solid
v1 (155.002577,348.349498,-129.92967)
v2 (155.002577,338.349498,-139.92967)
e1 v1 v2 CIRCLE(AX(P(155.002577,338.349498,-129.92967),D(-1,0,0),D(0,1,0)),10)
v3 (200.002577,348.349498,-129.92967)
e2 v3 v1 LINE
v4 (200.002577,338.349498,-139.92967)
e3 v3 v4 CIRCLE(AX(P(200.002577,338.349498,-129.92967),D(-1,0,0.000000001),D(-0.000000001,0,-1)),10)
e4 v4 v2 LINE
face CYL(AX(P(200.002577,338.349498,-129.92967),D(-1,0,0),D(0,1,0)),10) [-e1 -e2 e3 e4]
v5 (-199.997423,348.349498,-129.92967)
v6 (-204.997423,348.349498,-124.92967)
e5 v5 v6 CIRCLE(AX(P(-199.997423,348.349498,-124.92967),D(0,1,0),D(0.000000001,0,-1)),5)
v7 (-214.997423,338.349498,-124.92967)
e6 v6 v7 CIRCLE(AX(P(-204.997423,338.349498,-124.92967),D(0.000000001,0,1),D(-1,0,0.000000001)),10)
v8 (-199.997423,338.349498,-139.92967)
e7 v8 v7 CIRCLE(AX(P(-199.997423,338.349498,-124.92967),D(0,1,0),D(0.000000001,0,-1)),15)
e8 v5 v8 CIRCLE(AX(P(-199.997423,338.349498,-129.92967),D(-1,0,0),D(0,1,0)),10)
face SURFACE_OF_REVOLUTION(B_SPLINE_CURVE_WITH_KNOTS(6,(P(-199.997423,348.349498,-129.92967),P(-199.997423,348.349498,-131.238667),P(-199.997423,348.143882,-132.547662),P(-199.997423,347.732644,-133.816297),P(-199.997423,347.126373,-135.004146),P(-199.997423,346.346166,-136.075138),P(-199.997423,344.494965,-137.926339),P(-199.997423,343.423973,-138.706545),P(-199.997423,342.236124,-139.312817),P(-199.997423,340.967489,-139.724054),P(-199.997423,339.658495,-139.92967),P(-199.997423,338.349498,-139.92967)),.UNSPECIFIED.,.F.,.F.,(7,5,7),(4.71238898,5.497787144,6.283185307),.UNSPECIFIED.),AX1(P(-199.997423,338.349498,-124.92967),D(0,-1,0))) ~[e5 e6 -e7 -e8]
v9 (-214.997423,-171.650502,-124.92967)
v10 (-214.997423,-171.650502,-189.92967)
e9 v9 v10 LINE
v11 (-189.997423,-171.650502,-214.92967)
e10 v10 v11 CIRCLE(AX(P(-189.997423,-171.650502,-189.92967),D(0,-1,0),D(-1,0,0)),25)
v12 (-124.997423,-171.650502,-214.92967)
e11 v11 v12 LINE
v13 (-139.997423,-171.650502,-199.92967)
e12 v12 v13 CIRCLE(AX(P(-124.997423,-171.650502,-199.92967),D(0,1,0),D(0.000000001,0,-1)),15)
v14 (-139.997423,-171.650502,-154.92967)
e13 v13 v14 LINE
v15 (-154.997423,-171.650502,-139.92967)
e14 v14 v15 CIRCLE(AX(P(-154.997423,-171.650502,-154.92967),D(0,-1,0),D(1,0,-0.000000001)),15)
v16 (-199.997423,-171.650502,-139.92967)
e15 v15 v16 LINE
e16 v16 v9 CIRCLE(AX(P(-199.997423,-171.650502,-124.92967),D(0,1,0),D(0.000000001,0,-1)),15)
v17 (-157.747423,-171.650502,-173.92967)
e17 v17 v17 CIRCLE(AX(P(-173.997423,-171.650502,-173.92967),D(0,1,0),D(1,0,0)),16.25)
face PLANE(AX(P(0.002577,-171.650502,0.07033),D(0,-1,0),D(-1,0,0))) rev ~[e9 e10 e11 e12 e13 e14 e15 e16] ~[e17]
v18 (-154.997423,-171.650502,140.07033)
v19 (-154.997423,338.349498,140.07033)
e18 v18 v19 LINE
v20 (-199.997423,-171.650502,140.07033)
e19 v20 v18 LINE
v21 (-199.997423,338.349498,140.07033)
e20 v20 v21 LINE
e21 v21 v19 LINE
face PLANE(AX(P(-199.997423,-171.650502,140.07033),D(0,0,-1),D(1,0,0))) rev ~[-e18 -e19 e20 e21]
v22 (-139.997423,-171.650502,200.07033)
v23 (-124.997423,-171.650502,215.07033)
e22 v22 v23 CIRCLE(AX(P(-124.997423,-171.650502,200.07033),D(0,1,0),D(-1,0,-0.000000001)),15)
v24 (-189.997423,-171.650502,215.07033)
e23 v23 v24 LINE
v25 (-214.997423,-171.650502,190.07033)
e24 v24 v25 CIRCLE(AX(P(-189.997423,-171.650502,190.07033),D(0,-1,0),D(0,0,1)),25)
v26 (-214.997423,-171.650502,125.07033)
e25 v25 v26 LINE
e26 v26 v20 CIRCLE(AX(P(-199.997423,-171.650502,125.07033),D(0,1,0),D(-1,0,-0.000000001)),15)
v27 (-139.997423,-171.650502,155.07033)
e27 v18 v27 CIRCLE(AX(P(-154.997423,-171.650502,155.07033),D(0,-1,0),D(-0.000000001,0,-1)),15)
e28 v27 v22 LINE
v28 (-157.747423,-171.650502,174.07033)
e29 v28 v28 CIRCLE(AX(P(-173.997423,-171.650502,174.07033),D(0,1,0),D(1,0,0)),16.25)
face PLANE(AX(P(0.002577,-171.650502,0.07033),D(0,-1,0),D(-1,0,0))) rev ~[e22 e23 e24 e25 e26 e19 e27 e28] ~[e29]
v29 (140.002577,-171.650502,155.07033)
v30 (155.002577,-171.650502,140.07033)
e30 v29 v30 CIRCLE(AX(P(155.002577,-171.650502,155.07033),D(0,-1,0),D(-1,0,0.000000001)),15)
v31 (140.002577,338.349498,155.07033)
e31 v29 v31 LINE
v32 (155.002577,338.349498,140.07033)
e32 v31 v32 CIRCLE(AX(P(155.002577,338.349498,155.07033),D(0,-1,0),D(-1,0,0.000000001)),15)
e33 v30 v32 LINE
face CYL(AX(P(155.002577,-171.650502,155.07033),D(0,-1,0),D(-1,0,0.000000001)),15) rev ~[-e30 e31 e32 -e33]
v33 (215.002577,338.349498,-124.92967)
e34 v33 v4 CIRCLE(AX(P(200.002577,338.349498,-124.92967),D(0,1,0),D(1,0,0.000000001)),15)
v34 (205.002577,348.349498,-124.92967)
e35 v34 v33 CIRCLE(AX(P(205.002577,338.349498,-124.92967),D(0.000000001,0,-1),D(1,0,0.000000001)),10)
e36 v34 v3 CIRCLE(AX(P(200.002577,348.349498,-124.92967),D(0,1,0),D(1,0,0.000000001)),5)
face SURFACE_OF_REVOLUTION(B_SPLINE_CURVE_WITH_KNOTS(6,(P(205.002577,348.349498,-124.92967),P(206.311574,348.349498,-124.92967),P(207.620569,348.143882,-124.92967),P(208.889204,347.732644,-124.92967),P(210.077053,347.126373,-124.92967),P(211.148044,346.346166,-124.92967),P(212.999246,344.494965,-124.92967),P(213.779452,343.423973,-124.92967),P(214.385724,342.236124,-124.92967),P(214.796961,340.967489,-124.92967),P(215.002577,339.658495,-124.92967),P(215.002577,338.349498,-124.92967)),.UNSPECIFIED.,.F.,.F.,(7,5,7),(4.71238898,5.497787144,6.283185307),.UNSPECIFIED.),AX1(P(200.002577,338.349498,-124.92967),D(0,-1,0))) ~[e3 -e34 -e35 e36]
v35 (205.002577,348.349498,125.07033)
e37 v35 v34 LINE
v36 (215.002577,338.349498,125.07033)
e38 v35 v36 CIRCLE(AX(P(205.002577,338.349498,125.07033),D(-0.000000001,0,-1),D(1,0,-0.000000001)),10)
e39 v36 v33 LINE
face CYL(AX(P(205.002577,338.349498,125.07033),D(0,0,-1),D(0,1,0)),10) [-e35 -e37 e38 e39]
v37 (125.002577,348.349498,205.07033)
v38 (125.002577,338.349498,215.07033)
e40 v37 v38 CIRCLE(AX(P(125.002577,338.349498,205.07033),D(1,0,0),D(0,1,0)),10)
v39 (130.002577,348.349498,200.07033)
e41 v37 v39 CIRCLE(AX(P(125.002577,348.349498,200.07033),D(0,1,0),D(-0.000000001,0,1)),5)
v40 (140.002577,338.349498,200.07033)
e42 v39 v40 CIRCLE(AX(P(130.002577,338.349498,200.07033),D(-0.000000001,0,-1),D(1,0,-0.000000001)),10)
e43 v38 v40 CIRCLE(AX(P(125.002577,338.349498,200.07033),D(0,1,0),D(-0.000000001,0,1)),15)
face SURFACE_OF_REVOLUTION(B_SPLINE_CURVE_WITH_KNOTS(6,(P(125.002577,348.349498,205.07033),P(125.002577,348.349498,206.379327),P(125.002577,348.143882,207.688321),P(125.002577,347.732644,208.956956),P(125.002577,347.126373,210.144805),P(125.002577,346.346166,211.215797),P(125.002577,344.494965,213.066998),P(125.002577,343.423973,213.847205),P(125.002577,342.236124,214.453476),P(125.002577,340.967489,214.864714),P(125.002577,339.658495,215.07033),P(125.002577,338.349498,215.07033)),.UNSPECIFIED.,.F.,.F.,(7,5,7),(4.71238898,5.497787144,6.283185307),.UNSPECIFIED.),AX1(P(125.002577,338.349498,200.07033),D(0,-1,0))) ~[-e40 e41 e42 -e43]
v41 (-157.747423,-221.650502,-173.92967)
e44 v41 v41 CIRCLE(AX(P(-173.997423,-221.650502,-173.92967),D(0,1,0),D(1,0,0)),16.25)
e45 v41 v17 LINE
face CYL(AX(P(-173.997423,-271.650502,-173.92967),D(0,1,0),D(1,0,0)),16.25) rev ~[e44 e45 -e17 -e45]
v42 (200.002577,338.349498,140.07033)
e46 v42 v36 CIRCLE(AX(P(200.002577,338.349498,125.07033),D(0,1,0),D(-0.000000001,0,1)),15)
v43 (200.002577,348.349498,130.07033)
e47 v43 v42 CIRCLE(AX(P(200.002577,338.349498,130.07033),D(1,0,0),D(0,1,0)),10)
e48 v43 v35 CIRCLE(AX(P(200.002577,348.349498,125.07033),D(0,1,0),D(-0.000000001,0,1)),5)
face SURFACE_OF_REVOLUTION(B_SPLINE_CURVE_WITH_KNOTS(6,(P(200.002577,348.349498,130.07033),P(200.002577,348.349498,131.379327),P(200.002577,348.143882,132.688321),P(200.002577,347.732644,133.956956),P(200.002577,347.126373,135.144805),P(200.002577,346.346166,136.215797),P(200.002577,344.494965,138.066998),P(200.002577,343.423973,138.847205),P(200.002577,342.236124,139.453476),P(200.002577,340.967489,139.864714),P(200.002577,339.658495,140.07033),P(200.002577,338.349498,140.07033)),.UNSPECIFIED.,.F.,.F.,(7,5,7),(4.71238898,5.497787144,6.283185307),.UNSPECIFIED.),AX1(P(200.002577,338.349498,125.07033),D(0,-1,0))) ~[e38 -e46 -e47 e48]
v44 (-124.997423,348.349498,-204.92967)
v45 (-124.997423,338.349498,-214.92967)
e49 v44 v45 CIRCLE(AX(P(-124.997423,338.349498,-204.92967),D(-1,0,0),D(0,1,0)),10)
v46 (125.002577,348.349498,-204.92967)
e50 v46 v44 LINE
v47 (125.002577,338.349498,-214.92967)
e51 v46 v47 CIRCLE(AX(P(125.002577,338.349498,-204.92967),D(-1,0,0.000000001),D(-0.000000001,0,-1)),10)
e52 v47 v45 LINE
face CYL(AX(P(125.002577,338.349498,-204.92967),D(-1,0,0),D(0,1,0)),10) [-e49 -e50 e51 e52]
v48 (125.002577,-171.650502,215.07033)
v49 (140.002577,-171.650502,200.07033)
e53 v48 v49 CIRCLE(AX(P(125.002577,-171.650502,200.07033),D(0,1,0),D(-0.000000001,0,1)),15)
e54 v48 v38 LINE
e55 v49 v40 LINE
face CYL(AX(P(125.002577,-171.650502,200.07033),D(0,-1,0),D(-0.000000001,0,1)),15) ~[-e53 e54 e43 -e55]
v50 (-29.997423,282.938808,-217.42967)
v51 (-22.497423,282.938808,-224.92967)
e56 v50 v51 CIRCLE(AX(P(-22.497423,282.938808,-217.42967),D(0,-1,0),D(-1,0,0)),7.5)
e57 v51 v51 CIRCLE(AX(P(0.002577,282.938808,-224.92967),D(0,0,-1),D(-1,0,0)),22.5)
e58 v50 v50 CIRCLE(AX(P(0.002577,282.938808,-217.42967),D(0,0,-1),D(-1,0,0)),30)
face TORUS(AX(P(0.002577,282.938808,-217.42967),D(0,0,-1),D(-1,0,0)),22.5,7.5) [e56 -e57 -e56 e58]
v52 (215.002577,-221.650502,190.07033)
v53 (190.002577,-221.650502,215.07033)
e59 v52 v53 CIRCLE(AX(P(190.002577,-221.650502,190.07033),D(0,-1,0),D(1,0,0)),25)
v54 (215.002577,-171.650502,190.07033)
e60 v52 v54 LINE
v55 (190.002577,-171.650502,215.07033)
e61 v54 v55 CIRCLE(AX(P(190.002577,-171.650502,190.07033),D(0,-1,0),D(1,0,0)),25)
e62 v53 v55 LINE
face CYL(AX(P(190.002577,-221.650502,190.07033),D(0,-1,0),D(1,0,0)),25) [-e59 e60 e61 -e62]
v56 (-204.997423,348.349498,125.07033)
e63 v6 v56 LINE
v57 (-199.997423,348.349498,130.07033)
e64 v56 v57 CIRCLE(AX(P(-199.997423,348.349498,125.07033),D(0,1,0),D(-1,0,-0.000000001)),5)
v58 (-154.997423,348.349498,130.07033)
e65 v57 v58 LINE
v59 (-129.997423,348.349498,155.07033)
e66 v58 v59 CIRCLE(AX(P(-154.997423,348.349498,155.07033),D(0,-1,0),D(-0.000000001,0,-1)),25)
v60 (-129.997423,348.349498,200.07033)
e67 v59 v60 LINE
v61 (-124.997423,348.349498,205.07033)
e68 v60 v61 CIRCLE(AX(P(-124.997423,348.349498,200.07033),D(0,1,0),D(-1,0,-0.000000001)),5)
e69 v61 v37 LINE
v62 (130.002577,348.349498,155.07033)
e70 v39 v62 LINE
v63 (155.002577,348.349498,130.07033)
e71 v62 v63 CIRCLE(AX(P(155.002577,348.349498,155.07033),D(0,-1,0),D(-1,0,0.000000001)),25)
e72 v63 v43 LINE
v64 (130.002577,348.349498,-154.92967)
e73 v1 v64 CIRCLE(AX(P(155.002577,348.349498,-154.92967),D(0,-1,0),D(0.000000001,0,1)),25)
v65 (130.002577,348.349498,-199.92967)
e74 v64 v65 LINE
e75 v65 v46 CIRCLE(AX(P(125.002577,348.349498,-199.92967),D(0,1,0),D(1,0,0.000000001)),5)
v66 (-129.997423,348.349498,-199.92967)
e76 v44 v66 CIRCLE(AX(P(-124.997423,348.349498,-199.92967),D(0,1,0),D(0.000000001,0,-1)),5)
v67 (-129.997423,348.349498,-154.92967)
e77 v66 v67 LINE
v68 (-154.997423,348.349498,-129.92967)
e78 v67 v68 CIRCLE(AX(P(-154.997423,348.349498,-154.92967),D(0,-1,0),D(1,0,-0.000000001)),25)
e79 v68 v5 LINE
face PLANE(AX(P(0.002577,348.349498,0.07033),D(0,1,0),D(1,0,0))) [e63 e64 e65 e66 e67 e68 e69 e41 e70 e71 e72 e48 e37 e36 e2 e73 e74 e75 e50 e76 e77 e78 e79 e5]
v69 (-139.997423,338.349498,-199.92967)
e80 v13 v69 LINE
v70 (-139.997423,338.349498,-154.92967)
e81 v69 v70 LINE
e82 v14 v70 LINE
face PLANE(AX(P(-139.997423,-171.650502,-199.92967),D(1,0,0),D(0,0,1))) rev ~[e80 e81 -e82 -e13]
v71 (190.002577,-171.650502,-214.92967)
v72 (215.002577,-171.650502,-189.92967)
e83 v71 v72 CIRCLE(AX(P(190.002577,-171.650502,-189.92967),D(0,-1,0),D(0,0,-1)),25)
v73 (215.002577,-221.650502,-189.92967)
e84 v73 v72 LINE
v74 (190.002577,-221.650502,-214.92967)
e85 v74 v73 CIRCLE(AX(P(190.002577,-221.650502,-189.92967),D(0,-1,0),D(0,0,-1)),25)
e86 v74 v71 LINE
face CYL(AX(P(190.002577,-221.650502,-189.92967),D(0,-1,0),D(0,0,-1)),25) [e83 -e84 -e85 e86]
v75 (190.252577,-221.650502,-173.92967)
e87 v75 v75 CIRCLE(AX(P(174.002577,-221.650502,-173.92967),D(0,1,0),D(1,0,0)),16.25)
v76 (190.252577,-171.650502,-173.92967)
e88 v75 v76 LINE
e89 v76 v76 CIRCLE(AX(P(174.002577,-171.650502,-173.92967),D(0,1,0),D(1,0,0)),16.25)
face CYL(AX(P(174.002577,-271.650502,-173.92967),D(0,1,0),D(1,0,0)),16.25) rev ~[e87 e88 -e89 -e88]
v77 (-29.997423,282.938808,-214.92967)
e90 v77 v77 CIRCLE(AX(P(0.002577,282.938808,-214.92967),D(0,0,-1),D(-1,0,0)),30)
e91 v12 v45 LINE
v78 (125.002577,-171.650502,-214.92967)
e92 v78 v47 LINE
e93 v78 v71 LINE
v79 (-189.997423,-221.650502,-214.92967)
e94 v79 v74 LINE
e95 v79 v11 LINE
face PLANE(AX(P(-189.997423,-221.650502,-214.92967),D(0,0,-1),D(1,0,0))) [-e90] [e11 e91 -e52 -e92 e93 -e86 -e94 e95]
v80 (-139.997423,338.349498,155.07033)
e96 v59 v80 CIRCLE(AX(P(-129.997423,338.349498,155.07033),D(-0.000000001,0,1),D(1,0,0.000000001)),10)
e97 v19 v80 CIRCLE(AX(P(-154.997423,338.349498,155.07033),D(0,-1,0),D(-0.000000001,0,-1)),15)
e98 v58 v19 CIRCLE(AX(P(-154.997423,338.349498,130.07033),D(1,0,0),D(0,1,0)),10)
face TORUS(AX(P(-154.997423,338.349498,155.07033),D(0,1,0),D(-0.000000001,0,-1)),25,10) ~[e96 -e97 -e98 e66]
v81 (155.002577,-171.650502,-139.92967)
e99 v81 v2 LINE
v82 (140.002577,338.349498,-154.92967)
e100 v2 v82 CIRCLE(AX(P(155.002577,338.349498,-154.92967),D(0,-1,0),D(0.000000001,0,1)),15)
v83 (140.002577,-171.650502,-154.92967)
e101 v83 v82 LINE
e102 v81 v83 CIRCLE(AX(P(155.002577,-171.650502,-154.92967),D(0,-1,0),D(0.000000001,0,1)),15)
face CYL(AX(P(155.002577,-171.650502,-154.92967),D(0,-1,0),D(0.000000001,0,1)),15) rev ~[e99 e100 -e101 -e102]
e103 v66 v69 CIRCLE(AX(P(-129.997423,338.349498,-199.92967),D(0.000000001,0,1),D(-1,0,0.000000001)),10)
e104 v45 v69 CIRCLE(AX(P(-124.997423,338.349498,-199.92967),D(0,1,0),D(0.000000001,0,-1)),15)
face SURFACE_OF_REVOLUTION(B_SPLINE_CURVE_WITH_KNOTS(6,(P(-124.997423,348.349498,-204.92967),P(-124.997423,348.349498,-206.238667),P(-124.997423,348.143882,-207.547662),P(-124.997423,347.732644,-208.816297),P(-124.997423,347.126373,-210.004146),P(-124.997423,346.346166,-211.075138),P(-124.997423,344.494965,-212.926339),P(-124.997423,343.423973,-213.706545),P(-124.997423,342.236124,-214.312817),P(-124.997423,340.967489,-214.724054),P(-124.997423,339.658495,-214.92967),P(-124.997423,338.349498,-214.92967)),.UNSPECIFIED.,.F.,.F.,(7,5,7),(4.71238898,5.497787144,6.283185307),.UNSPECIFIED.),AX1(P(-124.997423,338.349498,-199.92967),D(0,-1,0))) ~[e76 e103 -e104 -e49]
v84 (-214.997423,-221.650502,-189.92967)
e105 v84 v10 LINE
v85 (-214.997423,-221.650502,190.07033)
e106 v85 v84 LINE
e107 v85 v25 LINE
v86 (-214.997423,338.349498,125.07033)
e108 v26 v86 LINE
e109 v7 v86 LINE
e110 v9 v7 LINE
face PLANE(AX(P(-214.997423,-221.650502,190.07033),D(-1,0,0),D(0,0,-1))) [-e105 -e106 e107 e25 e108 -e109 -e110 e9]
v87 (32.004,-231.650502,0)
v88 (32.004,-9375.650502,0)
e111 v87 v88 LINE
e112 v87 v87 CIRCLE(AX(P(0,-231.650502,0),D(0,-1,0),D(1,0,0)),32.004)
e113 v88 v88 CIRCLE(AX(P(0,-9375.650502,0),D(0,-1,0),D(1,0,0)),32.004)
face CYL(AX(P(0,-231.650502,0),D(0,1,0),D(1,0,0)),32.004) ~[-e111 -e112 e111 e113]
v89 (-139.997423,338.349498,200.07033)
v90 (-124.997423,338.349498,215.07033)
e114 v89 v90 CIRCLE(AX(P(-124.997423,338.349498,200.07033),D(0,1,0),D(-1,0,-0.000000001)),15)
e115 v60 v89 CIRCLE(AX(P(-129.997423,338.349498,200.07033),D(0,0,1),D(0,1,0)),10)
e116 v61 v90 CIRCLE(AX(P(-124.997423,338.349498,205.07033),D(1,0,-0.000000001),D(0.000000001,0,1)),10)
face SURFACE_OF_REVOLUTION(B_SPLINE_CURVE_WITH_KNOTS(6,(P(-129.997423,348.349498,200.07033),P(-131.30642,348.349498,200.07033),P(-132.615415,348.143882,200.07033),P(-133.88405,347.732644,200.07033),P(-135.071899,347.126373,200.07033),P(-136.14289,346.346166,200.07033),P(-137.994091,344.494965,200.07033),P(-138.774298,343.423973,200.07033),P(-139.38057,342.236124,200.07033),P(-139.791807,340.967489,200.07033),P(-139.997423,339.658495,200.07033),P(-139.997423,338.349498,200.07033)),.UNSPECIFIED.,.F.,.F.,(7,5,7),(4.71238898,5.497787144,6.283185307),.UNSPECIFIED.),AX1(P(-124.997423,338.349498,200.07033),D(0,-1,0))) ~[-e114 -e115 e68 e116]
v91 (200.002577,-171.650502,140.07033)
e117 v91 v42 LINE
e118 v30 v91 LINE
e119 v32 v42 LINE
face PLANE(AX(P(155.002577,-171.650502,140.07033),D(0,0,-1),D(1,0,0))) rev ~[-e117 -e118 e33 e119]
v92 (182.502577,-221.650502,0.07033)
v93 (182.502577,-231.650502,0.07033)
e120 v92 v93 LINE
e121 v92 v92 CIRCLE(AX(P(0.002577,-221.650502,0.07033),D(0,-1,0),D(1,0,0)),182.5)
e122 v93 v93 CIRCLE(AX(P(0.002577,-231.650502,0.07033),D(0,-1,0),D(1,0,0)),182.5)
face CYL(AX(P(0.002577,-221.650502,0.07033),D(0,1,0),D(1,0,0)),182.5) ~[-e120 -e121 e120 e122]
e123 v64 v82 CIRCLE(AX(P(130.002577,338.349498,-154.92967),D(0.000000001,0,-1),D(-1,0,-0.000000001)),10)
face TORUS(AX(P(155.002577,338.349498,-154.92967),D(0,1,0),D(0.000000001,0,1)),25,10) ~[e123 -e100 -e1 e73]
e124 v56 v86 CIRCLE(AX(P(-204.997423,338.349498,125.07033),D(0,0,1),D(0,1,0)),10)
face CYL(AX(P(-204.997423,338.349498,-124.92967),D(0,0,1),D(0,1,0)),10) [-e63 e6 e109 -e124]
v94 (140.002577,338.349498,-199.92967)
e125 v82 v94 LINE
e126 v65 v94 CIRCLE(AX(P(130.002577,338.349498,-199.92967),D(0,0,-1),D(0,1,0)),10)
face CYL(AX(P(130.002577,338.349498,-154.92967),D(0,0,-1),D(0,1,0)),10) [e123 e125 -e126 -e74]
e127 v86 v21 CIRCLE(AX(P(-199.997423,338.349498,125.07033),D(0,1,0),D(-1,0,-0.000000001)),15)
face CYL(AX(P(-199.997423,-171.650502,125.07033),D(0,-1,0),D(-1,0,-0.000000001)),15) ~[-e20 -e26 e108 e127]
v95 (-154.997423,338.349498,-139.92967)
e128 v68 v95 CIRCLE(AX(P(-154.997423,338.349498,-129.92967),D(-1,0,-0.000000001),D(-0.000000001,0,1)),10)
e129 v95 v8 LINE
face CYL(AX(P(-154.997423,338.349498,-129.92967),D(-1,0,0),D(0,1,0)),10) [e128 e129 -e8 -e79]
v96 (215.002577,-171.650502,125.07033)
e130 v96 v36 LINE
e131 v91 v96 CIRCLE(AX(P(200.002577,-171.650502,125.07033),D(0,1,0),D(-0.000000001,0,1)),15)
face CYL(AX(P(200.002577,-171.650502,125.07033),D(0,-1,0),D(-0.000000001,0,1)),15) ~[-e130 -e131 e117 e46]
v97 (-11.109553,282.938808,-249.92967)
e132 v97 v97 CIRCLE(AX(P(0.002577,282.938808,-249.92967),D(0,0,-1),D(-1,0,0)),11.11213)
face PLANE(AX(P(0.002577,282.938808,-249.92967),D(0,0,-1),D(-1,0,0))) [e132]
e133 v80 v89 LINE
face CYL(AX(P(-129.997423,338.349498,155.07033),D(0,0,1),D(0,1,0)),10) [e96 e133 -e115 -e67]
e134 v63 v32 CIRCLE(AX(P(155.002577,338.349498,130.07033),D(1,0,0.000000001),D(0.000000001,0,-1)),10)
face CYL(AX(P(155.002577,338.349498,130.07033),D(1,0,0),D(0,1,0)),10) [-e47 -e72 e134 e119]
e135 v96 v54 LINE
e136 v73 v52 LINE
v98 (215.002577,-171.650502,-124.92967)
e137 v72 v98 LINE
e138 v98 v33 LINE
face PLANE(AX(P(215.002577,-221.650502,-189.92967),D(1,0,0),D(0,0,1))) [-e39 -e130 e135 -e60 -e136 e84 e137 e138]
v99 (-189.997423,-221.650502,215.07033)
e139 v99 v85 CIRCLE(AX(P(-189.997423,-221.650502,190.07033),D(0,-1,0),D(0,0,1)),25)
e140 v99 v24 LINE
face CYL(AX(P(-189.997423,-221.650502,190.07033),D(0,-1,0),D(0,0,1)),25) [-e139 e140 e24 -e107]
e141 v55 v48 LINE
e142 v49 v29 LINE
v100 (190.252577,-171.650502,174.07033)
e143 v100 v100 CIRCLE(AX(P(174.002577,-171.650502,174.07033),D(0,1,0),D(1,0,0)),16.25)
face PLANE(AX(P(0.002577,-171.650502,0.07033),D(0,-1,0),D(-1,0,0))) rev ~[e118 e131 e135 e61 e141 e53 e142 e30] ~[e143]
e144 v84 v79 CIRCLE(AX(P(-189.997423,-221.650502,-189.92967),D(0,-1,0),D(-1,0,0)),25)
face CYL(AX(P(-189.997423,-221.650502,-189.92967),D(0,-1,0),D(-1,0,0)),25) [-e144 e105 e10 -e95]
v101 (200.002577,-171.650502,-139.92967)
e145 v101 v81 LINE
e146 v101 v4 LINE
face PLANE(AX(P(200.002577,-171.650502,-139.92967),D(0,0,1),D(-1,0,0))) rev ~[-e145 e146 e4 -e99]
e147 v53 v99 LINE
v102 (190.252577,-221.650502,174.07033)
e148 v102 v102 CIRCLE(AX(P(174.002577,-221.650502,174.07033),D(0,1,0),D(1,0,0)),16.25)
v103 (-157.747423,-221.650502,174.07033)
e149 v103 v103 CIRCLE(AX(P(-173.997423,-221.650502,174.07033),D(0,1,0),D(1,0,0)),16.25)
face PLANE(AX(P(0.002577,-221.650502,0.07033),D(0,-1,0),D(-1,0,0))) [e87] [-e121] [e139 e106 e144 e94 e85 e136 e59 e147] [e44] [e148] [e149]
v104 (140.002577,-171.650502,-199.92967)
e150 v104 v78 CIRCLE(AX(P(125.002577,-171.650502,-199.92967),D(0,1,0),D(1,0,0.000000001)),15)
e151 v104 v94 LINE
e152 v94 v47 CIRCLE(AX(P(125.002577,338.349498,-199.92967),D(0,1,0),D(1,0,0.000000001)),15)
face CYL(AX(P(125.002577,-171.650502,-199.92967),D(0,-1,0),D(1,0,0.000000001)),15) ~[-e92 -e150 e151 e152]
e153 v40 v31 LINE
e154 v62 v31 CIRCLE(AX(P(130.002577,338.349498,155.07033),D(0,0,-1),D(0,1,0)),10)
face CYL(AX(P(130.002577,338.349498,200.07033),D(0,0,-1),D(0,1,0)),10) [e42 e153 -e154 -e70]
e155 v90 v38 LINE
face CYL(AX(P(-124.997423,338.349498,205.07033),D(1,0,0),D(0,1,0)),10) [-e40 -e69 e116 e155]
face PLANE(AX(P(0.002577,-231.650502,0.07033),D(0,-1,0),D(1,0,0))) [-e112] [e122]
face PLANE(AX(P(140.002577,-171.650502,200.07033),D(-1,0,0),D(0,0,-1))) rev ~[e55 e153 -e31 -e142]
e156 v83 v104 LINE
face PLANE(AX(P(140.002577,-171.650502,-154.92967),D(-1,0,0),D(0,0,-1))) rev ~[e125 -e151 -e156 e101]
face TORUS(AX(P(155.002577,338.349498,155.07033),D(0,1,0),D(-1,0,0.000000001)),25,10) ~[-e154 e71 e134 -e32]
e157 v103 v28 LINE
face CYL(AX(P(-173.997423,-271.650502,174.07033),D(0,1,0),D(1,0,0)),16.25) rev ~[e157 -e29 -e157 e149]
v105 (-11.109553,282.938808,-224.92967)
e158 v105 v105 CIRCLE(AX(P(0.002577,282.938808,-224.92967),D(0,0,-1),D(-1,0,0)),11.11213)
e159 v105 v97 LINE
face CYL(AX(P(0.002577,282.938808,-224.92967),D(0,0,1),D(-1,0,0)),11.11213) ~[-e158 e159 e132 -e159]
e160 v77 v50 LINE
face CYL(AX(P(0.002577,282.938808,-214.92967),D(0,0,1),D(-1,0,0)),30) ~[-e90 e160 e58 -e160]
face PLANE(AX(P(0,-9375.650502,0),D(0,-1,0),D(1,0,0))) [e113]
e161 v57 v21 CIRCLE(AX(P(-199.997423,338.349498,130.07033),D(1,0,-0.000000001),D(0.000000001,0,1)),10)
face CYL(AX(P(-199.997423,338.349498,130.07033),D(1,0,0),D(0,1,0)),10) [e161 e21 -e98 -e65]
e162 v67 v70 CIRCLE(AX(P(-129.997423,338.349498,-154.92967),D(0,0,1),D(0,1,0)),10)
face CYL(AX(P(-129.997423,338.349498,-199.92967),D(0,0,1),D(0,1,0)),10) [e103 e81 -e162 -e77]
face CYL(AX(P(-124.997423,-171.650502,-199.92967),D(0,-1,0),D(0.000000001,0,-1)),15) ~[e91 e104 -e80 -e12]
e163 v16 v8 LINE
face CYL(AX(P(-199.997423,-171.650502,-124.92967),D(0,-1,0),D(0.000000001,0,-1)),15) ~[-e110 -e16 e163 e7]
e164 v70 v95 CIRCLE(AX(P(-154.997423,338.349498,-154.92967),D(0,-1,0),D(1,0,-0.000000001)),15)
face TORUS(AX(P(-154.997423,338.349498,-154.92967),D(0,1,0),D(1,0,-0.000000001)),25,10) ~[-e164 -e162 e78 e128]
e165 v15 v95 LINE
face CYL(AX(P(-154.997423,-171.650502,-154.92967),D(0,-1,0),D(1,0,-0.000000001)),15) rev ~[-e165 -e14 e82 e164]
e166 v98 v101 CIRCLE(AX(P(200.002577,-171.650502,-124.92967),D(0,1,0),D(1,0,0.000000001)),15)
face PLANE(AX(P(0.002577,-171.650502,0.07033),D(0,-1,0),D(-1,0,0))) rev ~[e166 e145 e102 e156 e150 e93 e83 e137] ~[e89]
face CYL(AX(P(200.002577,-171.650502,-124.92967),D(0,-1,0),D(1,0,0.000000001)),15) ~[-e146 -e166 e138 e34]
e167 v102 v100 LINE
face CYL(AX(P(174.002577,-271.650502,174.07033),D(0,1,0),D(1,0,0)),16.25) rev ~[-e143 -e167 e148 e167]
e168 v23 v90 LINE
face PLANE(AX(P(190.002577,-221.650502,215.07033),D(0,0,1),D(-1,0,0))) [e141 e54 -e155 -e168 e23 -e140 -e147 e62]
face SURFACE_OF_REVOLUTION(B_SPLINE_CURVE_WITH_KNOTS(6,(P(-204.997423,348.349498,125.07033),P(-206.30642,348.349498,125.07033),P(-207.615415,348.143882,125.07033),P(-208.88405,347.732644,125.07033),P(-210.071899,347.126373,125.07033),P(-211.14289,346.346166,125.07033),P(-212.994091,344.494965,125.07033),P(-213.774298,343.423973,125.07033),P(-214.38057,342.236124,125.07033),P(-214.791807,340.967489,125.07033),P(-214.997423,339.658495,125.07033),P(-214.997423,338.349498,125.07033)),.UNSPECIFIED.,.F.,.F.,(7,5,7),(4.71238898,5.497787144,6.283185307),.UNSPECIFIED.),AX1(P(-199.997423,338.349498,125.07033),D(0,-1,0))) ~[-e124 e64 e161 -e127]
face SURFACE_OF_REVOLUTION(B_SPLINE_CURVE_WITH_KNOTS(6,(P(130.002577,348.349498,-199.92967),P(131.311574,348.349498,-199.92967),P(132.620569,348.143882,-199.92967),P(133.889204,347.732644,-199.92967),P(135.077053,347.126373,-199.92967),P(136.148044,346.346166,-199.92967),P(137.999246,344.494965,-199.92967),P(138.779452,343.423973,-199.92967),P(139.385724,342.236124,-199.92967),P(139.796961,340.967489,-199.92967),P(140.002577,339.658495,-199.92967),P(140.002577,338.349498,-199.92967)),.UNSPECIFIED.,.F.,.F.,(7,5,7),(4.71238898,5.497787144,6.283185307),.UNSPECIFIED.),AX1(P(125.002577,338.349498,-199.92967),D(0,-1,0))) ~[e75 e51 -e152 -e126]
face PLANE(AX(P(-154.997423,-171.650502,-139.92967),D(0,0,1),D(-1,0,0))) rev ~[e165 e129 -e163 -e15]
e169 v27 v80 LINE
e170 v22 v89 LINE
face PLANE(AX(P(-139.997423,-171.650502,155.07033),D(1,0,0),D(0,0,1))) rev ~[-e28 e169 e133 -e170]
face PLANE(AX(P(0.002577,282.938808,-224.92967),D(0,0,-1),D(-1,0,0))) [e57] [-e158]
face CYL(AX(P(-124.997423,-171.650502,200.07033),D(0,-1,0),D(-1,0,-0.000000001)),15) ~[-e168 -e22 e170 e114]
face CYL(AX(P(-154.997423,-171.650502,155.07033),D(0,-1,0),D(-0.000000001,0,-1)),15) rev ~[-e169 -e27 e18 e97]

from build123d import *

# Parameters (mm, degrees)
EXTRUDE_1_DEPTH       = 10
EXTRUDE_2_DEPTH       = 104
SKETCH_3_R            = 36.5
EXTRUDE_3_DEPTH       = 2
SKETCH_4_R            = 6.35
EXTRUDE_4_DEPTH       = 35
CUT_EXTRUDE_1_DEPTH   = 25
FILLET_1_R            = 2
HOLE_WIZARD_M61_D     = 6.5
HOLE_WIZARD_M61_DEPTH = 10
SKETCH_10_R           = 6
EXTRUDE_6_DEPTH       = 2
FILLET_2_R            = 1.5
SKETCH_11_R           = 2.22242602
EXTRUDE_7_DEPTH       = 5
SCALE1_SCALE          = 5
SKETCH1_R             = 32.004
BOSS_EXTRUDE1_DEPTH   = 9144


with BuildPart() as part:
    # Эскиз1 → Бобышка-Вытянуть1 (new body)
    with BuildSketch(Plane(origin=(0, 0, 0), x_dir=(1, 0, 0), z_dir=(0, 1, 0))):
        with BuildLine():
            Line((-38, 43), (38, 43))
            ThreePointArc((38, 43), (41.535533906, 41.535533906), (43, 38))
            Line((43, 38), (43, -38))
            ThreePointArc((43, -38), (41.535533906, -41.535533906), (38, -43))
            Line((38, -43), (-38, -43))
            ThreePointArc((-38, -43), (-41.535533906, -41.535533906), (-43, -38))
            Line((-43, -38), (-43, 38))
            ThreePointArc((-43, 38), (-41.535533906, 41.535533906), (-38, 43))
        make_face()
    extrude(amount=EXTRUDE_1_DEPTH)

    # Эскиз2 → Бобышка-Вытянуть2 (add)
    with BuildSketch(Plane(origin=(0, 10, 0), x_dir=(1, 0, 0), z_dir=(0, 1, 0))):
        with BuildLine():
            ThreePointArc((28, 40), (27.121320344, 42.121320344), (25, 43))
            Line((25, 43), (-25, 43))
            ThreePointArc((-25, 43), (-27.121320344, 42.121320344), (-28, 40))
            Line((-28, 40), (-28, 31))
            ThreePointArc((-28, 31), (-28.878679656, 28.878679656), (-31, 28))
            Line((-31, 28), (-40, 28))
            ThreePointArc((-40, 28), (-42.121320344, 27.121320344), (-43, 25))
            Line((-43, 25), (-43, -25))
            ThreePointArc((-43, -25), (-42.121320344, -27.121320344), (-40, -28))
            Line((-40, -28), (-31, -28))
            ThreePointArc((-31, -28), (-28.878679656, -28.878679656), (-28, -31))
            Line((-28, -31), (-28, -40))
            ThreePointArc((-28, -40), (-27.121320344, -42.121320344), (-25, -43))
            Line((-25, -43), (25, -43))
            ThreePointArc((25, -43), (27.121320344, -42.121320344), (28, -40))
            Line((28, -40), (28, -31))
            ThreePointArc((28, -31), (28.878679656, -28.878679656), (31, -28))
            Line((31, -28), (40, -28))
            ThreePointArc((40, -28), (42.121320344, -27.121320344), (43, -25))
            Line((43, -25), (43, 25))
            ThreePointArc((43, 25), (42.121320344, 27.121320344), (40, 28))
            Line((40, 28), (31, 28))
            ThreePointArc((31, 28), (28.878679656, 28.878679656), (28, 31))
            Line((28, 31), (28, 40))
        make_face()
    extrude(amount=EXTRUDE_2_DEPTH)

    # Эскиз3 → Бобышка-Вытянуть3 (add)
    with BuildSketch(Plane.XZ):
        Circle(SKETCH_3_R)
    extrude(amount=EXTRUDE_3_DEPTH)

    # Эскиз4 → Бобышка-Вытянуть4 (add)
    with BuildSketch(Plane.XZ.offset(2)):
        Circle(SKETCH_4_R)
    extrude(amount=EXTRUDE_4_DEPTH)

    # Эскиз6 → Вырез-Вытянуть1 (cut)
    with BuildSketch(Plane.XZ.offset(37)):
        Polygon((-3.085449724, 5.55), (5.55, 5.55), (5.55, -3.085449724), (7.531526378, -3.085449724), (7.531526378, 7.645441362), (-3.085449724, 7.645441362), align=None)
    extrude(amount=-CUT_EXTRUDE_1_DEPTH, mode=Mode.SUBTRACT)

    # Скругление1
    fillet_1_edges = [part.edges().sort_by_distance(p)[0] for p in [
        (42.121320344, 114, -27.121320344),
        (35.5, 114, -28),
        (28, 114, -35.5),
        (-27.121320344, 114, -42.121320344),
        (-42.121320344, 114, 27.121320344),
        (-35.5, 114, 28),
        (-28, 114, 35.5),
        (27.121320344, 114, 42.121320344),
        (28, 114, 35.5),
        (28.878679656, 114, 28.878679656),
        (35.5, 114, 28),
        (42.121320344, 114, 27.121320344),
        (43, 114, 0),
        (28.878679656, 114, -28.878679656),
        (27.121320344, 114, -42.121320344),
        (0, 114, -43),
        (-28, 114, -35.5),
        (-28.878679656, 114, -28.878679656),
        (-35.5, 114, -28),
        (-42.121320344, 114, -27.121320344),
        (-43, 114, 0),
        (-28.878679656, 114, 28.878679656),
        (-27.121320344, 114, 42.121320344),
        (0, 114, 43),
    ]]
    fillet(fillet_1_edges, radius=FILLET_1_R)

    # Отверстие с зазором M61
    with Locations(Plane(origin=(0, 0, 0), x_dir=(-1, 0, 0), z_dir=(0, -1, 0))):
        with Locations((34.8, -34.8), (-34.8, -34.8), (-34.8, 34.8), (34.8, 34.8)):
            Hole(HOLE_WIZARD_M61_D / 2, depth=HOLE_WIZARD_M61_DEPTH)

    # Эскиз10 → Бобышка-Вытянуть6 (add)
    with BuildSketch(Plane(origin=(0, 0, -43), x_dir=(-1, 0, 0), z_dir=(0, 0, -1))):
        with Locations((0, 100.917861996)):
            Circle(SKETCH_10_R)
    extrude(amount=EXTRUDE_6_DEPTH)

    # Скругление2
    fillet_2_edges = [part.edges().sort_by_distance(p)[0] for p in [
        (6, 100.917861996, -45),
    ]]
    fillet(fillet_2_edges, radius=FILLET_2_R)

    # Эскиз11 → Бобышка-Вытянуть7 (add)
    with BuildSketch(Plane(origin=(0, 0, -45), x_dir=(-1, 0, 0), z_dir=(0, 0, -1))):
        with Locations((0, 100.917861996)):
            Circle(SKETCH_11_R)
    extrude(amount=EXTRUDE_7_DEPTH)


with BuildPart() as part_1:
    # Scale1: scaled about (-0.000644288, 55.41262559, -0.017582419)
    add(part.part.scale(SCALE1_SCALE).moved(Location((0.002577152, -221.65050236, 0.070329676))))

    # Sketch1 → Boss-Extrude1 (add)
    with BuildSketch(Plane.XZ.offset(231.65050236)):
        Circle(SKETCH1_R)
    extrude(amount=BOSS_EXTRUDE1_DEPTH)


solid = part_1.part
